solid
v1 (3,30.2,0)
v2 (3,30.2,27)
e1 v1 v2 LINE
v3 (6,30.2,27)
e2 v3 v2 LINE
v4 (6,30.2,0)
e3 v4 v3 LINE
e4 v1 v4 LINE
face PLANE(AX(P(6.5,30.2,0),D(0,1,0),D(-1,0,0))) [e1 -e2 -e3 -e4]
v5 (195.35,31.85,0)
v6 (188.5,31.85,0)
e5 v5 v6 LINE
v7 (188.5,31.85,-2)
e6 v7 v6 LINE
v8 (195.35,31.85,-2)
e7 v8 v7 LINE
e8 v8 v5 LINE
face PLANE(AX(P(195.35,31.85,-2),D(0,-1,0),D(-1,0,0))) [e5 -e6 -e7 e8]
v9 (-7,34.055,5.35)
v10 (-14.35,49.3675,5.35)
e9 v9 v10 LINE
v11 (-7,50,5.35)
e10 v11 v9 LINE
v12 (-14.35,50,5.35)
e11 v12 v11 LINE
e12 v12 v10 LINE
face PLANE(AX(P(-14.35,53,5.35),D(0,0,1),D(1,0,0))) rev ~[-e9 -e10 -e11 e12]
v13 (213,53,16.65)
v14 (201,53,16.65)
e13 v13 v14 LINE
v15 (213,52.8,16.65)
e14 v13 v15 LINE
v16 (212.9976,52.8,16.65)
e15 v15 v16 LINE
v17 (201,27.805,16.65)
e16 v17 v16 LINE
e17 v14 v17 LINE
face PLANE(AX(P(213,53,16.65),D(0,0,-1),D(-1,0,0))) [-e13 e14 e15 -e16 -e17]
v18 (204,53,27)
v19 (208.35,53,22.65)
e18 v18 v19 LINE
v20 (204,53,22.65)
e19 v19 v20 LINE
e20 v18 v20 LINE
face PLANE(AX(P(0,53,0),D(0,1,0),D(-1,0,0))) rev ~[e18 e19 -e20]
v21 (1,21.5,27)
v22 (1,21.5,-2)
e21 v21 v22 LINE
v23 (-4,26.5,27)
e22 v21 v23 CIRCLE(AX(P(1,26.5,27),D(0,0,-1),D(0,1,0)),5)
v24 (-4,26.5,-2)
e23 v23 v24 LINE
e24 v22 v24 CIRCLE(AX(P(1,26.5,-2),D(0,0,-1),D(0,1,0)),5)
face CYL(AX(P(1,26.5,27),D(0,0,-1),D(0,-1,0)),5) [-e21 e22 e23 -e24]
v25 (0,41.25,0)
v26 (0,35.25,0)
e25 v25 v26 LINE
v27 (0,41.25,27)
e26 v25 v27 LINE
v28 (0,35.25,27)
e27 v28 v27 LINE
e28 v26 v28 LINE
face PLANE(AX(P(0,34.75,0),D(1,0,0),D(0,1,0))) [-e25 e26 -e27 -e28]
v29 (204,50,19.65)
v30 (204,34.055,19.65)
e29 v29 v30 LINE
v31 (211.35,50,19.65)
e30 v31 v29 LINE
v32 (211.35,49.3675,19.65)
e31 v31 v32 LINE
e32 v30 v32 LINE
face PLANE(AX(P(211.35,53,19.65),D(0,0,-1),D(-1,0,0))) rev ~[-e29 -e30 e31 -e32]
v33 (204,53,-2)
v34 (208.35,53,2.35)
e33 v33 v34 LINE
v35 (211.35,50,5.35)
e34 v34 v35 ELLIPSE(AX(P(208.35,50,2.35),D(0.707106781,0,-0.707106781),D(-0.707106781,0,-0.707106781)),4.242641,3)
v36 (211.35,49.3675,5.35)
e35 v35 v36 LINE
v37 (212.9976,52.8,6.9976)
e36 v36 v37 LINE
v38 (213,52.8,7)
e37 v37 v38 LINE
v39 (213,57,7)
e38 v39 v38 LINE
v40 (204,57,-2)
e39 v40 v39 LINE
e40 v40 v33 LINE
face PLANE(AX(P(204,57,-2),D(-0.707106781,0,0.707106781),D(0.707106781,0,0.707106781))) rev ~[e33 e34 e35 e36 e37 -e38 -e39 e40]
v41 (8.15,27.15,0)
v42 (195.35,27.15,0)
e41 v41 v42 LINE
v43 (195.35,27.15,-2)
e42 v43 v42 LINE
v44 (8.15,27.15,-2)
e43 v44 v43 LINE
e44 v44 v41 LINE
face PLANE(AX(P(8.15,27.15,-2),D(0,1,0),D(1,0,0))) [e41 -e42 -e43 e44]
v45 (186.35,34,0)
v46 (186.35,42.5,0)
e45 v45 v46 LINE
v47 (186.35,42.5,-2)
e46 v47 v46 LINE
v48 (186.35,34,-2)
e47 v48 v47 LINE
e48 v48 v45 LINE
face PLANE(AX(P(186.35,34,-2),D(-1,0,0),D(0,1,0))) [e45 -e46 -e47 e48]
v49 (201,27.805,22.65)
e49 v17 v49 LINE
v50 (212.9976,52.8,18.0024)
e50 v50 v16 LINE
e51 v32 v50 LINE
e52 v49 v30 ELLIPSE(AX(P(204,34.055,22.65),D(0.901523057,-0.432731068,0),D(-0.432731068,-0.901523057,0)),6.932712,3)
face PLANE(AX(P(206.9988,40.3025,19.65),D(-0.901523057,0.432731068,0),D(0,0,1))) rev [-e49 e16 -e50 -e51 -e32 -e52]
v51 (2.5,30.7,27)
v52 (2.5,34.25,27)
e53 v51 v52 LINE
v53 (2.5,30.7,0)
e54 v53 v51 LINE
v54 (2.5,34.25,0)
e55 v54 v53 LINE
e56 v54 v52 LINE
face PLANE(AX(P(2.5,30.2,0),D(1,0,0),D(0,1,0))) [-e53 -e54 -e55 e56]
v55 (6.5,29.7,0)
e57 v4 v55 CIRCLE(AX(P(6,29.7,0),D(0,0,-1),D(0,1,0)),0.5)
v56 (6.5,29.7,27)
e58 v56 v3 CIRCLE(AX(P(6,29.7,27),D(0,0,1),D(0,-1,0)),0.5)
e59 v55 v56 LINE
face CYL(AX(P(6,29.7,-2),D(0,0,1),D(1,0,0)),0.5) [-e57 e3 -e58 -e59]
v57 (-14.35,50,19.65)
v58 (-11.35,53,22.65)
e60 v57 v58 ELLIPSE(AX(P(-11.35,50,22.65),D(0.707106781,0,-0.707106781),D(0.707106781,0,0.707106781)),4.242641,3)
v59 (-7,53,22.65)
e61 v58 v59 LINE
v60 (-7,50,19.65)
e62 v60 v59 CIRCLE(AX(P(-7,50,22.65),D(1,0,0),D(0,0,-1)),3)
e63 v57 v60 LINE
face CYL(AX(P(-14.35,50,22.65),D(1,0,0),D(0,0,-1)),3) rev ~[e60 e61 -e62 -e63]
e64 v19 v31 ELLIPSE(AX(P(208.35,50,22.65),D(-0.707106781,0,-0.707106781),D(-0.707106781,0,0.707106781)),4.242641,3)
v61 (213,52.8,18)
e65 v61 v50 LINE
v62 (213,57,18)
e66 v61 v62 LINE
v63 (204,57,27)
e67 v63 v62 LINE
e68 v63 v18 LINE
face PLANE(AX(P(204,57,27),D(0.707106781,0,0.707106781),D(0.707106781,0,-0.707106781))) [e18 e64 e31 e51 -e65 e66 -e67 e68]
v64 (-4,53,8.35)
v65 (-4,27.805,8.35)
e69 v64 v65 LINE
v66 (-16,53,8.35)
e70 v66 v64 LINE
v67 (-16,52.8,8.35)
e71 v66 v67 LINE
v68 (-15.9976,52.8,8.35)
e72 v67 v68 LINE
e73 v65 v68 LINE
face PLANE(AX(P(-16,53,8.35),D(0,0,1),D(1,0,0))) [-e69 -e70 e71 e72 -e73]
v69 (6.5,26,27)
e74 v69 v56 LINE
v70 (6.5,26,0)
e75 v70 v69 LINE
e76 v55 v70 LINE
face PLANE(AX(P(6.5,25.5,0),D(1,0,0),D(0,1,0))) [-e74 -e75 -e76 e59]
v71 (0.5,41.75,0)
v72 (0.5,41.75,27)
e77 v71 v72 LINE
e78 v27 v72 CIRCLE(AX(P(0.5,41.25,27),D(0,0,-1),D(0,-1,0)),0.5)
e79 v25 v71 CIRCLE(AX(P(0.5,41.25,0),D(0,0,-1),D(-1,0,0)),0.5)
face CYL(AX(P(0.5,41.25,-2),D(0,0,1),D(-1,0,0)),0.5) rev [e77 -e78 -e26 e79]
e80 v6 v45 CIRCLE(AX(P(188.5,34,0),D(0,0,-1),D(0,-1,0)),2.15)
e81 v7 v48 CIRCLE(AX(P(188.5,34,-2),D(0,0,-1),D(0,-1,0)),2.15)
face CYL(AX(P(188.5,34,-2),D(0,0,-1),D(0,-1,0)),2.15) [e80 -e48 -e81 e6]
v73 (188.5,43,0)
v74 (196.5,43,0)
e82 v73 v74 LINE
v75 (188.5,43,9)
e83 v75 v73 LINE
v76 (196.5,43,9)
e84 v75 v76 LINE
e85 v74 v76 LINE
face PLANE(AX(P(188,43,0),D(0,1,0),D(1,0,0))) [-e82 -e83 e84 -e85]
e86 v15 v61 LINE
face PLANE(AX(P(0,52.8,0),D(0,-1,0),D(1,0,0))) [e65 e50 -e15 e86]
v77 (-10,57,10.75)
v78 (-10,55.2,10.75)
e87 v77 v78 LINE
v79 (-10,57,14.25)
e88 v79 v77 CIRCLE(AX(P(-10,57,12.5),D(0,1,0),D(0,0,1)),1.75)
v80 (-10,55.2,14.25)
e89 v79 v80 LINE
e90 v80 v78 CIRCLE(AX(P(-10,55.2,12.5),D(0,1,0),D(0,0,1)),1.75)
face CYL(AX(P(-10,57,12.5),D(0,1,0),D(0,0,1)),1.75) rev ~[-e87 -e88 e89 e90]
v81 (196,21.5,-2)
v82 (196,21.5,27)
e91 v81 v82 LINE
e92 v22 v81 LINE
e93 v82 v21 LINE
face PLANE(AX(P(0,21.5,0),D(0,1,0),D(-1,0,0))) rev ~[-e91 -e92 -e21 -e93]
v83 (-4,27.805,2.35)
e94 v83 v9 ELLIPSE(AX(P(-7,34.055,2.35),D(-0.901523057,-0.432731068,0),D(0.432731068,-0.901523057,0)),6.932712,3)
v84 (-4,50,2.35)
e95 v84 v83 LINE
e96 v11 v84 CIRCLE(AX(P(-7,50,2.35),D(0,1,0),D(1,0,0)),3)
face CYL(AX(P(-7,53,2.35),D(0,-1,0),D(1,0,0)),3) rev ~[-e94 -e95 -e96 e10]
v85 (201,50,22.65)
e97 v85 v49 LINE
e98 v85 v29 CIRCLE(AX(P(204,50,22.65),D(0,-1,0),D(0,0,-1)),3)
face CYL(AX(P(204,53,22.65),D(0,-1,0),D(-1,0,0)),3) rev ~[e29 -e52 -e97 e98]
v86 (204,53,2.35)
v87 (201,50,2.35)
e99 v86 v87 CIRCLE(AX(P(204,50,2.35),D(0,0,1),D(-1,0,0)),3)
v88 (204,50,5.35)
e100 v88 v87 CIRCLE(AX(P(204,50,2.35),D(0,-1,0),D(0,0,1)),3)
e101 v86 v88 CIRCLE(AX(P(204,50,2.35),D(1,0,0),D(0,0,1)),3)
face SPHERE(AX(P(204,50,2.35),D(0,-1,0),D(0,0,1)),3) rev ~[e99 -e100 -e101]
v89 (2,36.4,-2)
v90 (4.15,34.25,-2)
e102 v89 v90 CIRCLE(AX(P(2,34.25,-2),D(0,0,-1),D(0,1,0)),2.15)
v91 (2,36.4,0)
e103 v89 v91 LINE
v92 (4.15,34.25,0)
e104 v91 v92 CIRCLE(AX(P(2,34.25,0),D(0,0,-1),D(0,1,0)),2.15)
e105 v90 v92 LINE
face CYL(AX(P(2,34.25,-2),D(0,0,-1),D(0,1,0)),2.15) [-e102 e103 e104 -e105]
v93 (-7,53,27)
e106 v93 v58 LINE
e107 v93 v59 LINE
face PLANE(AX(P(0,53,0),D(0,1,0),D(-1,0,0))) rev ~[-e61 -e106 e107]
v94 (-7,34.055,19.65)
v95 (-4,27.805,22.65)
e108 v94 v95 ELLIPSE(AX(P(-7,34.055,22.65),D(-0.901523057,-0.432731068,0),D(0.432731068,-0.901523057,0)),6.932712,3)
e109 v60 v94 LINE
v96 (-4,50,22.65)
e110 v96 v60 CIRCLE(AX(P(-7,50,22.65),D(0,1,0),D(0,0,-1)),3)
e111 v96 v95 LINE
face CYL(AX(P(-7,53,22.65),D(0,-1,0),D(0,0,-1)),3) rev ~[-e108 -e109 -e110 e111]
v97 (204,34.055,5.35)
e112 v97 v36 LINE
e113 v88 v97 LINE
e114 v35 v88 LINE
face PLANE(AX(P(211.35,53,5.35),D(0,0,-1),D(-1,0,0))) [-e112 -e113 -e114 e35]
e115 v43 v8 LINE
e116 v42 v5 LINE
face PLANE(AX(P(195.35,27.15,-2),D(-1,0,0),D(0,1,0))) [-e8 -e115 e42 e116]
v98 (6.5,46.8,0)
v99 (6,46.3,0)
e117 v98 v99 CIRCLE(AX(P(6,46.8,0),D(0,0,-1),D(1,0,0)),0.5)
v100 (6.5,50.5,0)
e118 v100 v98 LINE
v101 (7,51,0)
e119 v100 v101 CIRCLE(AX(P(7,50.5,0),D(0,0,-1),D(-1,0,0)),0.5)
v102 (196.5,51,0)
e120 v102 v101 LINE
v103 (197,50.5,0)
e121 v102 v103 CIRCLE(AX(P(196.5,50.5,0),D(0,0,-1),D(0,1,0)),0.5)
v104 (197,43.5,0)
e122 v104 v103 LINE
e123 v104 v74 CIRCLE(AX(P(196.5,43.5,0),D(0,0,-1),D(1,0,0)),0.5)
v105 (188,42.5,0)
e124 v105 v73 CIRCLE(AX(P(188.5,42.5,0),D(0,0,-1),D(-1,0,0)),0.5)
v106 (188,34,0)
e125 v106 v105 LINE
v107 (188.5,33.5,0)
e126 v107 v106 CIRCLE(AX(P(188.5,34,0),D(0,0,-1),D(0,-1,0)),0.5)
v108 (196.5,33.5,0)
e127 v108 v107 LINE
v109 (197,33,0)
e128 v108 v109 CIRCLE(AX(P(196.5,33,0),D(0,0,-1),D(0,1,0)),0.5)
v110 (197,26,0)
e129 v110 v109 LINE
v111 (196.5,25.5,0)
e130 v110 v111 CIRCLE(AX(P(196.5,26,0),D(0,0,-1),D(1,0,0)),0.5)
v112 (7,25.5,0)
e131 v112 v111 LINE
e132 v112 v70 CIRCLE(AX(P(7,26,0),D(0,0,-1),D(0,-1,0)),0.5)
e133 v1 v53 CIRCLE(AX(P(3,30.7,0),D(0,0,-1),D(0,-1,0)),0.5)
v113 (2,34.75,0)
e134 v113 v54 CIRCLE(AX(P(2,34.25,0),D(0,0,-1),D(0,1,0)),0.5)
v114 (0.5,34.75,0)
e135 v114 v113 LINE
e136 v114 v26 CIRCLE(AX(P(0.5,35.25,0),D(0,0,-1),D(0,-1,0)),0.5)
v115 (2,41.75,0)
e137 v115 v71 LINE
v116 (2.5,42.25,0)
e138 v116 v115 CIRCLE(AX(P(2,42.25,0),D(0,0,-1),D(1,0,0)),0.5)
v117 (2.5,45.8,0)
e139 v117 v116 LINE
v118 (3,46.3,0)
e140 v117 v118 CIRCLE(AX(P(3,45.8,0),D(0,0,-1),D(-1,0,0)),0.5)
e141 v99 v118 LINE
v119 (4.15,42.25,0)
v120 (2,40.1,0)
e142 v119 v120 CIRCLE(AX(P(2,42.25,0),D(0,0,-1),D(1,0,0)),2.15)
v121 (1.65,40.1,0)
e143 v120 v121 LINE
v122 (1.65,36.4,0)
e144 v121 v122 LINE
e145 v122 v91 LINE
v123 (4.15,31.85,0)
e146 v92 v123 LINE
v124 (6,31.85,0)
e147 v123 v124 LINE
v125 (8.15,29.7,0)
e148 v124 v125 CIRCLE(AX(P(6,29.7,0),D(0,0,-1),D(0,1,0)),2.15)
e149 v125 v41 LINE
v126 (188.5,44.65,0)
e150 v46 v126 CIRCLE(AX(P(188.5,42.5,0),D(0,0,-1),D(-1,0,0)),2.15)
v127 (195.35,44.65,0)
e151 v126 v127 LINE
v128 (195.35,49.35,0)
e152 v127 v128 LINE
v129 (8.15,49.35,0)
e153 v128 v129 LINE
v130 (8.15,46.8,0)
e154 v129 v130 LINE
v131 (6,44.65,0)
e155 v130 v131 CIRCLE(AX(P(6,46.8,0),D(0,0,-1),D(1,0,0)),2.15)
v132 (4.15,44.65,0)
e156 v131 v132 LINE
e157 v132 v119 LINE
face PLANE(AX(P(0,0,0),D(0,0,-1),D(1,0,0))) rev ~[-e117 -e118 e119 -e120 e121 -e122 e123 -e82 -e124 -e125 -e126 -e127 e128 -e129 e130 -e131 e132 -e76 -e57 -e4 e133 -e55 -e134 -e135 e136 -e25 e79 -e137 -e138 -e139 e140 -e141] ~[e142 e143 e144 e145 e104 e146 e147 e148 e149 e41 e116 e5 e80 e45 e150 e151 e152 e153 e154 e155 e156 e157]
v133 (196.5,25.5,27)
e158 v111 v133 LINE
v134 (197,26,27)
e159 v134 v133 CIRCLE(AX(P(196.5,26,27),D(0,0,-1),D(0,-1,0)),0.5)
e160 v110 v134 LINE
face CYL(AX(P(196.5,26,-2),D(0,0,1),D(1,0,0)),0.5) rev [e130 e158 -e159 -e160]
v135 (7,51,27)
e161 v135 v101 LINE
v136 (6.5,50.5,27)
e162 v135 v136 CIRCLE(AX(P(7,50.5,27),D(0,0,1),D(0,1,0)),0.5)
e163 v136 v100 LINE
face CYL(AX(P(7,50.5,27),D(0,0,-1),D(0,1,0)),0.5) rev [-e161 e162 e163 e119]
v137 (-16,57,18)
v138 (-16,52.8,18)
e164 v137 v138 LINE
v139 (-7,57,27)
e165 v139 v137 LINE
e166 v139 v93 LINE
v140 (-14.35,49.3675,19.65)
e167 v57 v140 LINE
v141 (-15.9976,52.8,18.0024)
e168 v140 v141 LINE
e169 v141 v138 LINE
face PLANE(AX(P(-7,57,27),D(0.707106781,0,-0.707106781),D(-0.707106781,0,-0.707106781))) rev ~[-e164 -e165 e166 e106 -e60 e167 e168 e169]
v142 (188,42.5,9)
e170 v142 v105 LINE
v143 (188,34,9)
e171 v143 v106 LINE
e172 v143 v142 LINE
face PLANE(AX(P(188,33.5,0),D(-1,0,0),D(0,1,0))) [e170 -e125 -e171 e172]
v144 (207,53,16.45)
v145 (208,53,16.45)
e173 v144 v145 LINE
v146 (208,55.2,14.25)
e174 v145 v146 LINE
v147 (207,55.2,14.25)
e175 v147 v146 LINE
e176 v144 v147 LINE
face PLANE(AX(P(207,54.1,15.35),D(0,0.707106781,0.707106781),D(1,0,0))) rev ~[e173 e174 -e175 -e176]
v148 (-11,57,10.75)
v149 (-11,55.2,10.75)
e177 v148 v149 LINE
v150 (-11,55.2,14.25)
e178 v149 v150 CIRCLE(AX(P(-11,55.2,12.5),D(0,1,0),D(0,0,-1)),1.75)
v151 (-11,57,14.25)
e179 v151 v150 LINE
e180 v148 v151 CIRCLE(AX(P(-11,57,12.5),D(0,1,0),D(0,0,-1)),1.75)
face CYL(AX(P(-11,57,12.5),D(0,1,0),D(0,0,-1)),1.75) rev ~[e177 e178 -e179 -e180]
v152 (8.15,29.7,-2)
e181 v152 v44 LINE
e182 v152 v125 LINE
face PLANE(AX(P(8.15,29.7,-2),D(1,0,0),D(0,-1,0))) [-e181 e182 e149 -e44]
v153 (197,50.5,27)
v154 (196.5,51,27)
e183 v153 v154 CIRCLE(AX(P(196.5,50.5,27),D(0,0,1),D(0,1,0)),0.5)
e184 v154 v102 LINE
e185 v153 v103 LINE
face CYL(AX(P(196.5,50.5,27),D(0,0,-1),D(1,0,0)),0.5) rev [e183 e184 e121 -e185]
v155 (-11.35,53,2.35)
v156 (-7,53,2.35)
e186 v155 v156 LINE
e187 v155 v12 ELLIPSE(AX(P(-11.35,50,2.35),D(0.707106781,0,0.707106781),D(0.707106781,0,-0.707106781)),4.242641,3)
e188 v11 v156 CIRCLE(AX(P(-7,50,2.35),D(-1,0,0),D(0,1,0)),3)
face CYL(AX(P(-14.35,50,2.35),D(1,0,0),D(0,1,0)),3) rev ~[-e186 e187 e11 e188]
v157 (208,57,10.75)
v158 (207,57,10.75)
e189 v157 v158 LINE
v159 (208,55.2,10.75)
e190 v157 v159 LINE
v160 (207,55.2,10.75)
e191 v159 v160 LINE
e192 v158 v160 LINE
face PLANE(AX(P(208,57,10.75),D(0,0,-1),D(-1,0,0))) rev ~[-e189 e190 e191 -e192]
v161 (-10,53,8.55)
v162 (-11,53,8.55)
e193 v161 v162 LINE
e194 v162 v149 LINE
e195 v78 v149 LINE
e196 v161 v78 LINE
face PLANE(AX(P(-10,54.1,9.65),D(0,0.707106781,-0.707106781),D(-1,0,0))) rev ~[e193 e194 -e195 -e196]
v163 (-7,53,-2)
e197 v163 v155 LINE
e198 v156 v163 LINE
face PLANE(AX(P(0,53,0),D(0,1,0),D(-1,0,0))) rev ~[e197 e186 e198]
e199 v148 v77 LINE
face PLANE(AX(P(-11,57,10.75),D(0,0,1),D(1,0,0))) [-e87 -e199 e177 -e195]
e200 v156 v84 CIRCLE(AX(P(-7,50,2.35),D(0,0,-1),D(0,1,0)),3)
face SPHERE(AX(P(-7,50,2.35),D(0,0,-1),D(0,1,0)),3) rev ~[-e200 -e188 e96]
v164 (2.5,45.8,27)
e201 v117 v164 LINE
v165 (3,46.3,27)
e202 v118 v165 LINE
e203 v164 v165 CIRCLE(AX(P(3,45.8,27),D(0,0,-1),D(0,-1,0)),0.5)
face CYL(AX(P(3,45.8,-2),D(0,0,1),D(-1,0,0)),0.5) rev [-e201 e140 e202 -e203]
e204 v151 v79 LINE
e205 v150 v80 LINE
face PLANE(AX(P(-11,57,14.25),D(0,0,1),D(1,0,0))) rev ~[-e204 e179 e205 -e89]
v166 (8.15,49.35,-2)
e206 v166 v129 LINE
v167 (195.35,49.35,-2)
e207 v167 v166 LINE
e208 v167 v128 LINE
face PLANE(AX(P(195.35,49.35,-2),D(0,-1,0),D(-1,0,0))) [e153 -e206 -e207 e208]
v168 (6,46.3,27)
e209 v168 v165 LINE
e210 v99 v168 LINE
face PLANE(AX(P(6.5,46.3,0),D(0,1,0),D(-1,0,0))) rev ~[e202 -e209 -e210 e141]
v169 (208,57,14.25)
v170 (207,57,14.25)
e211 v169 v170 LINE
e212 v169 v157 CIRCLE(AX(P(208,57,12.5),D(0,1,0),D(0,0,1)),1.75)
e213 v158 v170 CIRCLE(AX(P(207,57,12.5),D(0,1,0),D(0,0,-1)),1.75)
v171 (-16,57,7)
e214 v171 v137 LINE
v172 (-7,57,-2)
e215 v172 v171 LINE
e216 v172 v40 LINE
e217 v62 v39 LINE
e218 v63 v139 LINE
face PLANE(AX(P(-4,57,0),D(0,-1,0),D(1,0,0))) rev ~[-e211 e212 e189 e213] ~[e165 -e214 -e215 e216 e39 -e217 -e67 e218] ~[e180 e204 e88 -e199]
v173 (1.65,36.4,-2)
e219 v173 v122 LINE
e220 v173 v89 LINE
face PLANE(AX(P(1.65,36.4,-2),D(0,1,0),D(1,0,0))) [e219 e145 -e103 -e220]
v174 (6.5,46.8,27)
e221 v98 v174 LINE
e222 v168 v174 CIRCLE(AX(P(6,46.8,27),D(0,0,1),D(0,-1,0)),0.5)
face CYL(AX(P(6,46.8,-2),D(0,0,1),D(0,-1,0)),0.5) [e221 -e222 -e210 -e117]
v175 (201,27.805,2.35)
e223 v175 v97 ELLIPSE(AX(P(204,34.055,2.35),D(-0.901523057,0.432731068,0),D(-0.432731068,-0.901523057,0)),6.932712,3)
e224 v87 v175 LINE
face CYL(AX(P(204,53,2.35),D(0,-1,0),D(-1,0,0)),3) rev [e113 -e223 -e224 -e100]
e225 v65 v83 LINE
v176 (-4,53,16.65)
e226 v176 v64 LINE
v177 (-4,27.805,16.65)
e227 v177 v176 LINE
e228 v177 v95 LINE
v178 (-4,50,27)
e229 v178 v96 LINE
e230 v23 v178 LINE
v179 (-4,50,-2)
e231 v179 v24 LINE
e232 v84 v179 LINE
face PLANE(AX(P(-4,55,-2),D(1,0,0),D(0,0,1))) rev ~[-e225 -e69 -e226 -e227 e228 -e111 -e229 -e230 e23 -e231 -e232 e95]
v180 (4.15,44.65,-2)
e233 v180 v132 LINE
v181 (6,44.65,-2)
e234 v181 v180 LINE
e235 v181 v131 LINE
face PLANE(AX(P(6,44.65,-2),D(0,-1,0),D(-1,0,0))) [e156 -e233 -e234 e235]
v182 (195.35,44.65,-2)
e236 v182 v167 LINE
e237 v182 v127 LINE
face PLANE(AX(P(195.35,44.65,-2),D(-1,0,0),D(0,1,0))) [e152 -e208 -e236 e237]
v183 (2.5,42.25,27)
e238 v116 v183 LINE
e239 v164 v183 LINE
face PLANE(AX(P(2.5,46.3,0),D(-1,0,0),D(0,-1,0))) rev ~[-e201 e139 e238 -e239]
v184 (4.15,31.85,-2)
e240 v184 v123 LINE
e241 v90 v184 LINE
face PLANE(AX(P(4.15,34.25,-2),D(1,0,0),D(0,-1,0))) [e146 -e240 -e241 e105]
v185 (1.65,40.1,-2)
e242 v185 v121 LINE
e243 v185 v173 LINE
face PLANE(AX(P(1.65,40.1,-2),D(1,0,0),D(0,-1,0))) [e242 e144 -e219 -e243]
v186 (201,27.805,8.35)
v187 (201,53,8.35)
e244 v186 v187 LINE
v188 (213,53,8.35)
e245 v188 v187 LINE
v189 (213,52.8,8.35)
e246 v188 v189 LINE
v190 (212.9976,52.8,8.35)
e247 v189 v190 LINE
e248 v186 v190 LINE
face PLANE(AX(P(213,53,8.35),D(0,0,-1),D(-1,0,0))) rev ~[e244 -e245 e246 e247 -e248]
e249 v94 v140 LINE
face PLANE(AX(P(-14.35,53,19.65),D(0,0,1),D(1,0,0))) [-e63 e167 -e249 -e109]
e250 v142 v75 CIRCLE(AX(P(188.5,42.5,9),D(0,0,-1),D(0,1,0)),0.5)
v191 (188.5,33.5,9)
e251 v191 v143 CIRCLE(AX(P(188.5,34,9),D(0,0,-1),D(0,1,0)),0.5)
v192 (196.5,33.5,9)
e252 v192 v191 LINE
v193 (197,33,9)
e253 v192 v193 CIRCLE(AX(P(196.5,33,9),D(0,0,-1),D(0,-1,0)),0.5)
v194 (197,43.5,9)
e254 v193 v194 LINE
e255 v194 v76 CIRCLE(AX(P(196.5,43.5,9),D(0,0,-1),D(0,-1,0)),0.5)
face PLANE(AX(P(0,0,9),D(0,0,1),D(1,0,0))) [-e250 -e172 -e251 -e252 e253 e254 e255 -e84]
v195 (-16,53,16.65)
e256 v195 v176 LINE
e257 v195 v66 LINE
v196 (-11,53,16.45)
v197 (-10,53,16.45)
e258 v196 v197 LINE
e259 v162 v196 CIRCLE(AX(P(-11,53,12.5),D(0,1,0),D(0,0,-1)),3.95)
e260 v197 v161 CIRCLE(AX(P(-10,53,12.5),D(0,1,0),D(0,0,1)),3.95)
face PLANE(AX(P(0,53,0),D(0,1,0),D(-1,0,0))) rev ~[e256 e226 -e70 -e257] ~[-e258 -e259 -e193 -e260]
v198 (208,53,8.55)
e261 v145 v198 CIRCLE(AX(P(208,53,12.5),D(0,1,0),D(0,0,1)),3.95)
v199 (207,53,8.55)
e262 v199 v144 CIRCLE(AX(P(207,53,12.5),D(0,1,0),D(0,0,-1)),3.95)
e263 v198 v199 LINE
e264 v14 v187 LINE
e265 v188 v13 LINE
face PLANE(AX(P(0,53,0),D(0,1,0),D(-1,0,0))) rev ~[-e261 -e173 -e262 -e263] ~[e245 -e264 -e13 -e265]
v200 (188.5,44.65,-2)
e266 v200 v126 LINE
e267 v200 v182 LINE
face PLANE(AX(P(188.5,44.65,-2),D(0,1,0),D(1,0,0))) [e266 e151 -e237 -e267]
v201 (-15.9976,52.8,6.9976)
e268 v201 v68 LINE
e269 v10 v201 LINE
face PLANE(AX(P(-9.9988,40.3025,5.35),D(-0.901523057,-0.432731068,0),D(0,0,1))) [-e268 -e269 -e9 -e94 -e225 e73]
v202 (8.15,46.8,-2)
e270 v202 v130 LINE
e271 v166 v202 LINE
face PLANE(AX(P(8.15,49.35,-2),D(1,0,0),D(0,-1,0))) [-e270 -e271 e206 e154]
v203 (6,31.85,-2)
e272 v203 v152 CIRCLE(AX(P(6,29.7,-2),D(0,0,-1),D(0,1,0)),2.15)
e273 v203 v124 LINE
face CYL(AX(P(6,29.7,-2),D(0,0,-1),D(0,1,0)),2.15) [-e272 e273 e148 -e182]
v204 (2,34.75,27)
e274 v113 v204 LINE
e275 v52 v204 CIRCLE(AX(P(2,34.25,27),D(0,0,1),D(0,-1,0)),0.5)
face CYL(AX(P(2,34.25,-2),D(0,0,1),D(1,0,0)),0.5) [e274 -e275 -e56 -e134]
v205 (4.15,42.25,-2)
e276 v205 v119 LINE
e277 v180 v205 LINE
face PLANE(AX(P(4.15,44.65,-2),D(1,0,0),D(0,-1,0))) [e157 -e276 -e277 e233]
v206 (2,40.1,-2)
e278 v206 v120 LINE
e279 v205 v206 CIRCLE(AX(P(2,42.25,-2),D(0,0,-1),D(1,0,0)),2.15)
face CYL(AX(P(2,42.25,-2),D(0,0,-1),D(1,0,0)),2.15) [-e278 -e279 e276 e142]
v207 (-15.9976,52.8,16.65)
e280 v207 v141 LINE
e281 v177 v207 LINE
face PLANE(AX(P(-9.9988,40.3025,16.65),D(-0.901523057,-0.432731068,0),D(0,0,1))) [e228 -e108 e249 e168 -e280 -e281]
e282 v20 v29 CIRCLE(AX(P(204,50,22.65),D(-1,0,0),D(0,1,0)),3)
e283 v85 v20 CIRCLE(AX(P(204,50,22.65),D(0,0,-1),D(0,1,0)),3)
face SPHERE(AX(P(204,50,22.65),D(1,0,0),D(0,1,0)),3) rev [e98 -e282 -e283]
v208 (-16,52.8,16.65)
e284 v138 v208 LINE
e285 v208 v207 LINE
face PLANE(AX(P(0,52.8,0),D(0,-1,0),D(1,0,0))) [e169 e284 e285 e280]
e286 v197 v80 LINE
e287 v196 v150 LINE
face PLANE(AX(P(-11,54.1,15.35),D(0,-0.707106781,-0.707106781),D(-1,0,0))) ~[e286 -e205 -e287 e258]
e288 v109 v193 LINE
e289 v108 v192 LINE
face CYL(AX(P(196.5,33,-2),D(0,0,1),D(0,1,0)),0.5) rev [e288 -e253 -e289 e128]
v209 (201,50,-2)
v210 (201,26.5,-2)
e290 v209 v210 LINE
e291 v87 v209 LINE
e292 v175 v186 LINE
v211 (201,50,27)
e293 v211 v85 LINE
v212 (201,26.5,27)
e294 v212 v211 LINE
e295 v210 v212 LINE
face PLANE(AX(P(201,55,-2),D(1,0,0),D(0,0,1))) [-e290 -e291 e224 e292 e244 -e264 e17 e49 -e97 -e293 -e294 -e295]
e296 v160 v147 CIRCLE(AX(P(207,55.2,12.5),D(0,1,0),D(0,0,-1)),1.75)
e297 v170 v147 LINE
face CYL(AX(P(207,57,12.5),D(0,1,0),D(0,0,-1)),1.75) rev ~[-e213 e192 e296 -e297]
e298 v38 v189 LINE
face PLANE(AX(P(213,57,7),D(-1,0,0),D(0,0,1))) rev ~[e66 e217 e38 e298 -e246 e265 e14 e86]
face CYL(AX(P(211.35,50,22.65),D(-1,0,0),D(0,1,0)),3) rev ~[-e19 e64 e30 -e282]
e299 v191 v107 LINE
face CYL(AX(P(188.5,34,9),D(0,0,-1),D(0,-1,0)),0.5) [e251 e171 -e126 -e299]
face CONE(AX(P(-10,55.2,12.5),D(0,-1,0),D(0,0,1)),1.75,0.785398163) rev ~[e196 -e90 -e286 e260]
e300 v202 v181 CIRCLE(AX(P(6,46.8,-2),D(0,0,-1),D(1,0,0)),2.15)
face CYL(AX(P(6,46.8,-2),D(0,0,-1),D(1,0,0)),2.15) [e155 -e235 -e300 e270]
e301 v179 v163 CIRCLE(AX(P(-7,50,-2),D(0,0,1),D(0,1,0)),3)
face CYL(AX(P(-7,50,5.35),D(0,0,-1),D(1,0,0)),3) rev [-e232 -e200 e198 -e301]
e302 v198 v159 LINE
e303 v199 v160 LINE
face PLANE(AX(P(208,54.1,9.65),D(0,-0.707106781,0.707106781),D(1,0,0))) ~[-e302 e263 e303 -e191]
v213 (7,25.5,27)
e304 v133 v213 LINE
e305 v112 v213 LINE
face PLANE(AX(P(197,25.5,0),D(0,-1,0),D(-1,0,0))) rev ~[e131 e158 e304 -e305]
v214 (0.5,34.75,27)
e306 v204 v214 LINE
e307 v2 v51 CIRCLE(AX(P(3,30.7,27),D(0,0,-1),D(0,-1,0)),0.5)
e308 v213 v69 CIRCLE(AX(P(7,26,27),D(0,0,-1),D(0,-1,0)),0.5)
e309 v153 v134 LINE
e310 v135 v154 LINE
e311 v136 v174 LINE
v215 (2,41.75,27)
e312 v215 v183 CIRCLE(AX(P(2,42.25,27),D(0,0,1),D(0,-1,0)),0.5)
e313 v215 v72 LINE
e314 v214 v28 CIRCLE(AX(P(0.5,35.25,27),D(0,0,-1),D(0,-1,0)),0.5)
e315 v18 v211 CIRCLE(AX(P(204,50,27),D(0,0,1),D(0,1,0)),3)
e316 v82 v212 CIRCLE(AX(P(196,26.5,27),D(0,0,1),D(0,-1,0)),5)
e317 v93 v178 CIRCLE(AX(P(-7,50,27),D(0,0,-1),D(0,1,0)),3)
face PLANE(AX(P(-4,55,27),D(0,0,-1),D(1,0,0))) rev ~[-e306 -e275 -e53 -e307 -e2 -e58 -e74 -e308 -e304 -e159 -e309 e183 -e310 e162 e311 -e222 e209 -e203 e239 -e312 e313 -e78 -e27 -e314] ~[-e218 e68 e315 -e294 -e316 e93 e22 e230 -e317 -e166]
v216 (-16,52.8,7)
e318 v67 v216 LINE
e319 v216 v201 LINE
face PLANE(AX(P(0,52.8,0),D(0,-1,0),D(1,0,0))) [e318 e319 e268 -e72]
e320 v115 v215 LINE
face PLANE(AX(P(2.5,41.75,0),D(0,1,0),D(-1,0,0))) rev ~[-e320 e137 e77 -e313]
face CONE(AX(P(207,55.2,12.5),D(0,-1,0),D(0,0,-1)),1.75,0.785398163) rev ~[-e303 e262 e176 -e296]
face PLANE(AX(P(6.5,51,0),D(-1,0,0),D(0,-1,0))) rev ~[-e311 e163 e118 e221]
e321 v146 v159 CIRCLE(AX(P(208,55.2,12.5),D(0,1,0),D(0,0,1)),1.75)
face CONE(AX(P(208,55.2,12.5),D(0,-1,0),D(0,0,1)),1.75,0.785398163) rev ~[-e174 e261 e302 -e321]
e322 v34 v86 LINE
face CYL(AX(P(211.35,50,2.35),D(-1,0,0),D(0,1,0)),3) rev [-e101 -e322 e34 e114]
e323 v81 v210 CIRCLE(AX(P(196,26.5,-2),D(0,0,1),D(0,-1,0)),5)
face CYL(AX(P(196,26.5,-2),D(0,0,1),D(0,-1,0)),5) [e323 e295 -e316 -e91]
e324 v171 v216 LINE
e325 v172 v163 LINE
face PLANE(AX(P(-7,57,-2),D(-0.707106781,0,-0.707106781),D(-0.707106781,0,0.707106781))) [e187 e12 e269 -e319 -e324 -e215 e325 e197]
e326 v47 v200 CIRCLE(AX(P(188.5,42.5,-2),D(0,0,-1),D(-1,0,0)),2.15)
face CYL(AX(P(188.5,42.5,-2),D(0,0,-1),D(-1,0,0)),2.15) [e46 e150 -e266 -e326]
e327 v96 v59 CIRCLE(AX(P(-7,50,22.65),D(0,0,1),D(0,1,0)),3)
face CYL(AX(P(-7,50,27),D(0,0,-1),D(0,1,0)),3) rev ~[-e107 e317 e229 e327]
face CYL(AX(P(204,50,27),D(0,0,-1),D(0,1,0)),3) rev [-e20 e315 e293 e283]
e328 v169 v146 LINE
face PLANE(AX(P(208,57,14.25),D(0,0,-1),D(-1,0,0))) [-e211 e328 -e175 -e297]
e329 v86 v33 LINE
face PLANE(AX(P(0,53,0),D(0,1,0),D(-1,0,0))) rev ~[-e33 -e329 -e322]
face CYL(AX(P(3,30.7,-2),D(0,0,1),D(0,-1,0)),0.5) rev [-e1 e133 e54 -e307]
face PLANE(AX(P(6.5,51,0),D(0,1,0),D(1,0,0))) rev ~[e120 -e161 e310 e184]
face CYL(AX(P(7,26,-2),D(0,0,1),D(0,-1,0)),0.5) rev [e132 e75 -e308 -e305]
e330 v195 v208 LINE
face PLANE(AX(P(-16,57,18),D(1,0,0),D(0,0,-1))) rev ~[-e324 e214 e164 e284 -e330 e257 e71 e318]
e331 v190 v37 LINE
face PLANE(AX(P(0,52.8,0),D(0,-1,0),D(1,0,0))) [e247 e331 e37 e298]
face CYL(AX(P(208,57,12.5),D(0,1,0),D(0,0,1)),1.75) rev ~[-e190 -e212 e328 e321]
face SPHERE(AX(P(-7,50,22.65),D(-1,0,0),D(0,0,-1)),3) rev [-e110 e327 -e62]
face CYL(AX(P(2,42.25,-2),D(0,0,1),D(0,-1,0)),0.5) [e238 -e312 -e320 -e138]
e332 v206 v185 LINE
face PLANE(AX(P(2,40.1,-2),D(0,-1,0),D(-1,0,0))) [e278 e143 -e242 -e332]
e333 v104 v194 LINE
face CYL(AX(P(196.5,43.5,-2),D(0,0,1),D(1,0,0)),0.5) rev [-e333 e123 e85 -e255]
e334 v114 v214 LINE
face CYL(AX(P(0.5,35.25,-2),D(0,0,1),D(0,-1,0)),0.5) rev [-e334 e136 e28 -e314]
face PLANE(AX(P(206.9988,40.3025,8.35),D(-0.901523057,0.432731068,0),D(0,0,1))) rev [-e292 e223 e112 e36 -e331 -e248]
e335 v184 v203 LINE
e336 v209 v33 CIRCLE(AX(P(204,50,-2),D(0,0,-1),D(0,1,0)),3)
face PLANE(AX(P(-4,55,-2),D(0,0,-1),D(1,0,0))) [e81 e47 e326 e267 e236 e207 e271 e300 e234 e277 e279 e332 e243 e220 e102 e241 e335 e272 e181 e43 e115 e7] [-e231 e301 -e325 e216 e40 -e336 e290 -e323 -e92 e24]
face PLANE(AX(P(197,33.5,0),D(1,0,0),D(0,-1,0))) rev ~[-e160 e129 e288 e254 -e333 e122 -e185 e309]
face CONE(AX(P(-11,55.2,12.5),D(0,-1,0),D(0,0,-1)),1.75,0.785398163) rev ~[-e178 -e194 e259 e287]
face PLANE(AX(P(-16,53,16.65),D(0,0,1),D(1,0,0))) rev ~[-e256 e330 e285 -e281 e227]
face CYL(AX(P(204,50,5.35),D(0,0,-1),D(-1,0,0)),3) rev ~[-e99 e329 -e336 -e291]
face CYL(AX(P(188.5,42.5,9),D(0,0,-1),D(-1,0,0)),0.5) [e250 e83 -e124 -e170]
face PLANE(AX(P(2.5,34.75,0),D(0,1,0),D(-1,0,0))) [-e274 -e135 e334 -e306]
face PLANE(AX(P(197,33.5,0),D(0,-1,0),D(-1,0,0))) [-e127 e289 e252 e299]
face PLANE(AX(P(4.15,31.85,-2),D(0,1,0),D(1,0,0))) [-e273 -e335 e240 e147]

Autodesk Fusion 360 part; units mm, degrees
sketch "Sketch1" plane through (0, 0, 0) normal (0, 0, 1) x (1, 0, 0)
  line L0 (0, 0) -> (197, 0)
  line L1 (197, 0) -> (197, 25.5)
  line L2 (197, 25.5) -> (0, 25.5)
  line L3 (0, 25.5) -> (0, 0)
  line L4 (6.5, 25.5) -> (6.5, 20.8)
  line L5 (6.5, 20.8) -> (2.5, 20.8)
  line L6 (0, 12.75) -> (197, 12.75) construction
  line L7 (197, 17.5) -> (188, 17.5)
  line L8 (188, 17.5) -> (188, 8)
  line L9 (188, 8) -> (197, 8)
  line L10 (6.5, 4.7) -> (2.5, 4.7)
  line L11 (6.5, 0) -> (6.5, 4.7)
  line L12 (2.5, 20.8) -> (2.5, 16.25)
  line L13 (2.5, 16.25) -> (0, 16.25)
  line L14 (2.5, 4.7) -> (2.5, 9.25)
  line L15 (2.5, 9.25) -> (0, 9.25)
  line L16 (0, 25.5) -> (0, 51)
  line L17 (0, 51) -> (197, 51)
  line L18 (6.5, 46.3) -> (2.5, 46.3)
  line L19 (6.5, 51) -> (6.5, 46.3)
  line L20 (2.5, 41.75) -> (0, 41.75)
  line L21 (2.5, 46.3) -> (2.5, 41.75)
  line L22 (6.5, 25.5) -> (6.5, 30.2)
  line L23 (6.5, 30.2) -> (2.5, 30.2)
  line L24 (2.5, 30.2) -> (2.5, 34.75)
  line L25 (2.5, 34.75) -> (0, 34.75)
  line L26 (197, 33.5) -> (188, 33.5)
  line L27 (188, 33.5) -> (188, 43)
  line L28 (188, 43) -> (197, 43)
  line L29 (197, 51) -> (197, 25.5)
  line L30 (201, -4) -> (201, 25.5)
  line L31 (201, 55) -> (201, 25.5)
  line L32 (-4, 55) -> (201, 55)
  line L33 (-4, 25.5) -> (-4, 55)
  line L34 (-4, 25.5) -> (-4, -4)
  line L35 (-4, -4) -> (201, -4)
  line L36 (201, 21.5) -> (-4, 21.5)
  point P0 (0, 25.5)
  dimension "d1" = 25.5
  dimension "d2" = 197
  dimension "d5" = 4.7
  dimension "d6" = 4
  dimension "d7" = 9
  dimension "d8" = 9.5
  dimension "d9" = 2.5
  dimension "d10" = 7
  dimension "d19" = 4
  dimension "d74" = 4
extrude "Extrude1" add sketch "Sketch1" against normal blind 2 contours L1 L3 L16 L17 L29 L30 L31 L32 L33 L34 L36 | L2 L3 L4 L36 | L2 L16 L22 L23 L24 L25 | L1 L2 L4 L36 | L16 L17 L18 L19 L20 L21 | L26 L27 L28 L29
extrude "Extrude2" add sketch "Sketch1" along normal blind 9 contours L26 L27 L28 L29
extrude "Extrude3" add sketch "Sketch1" along normal blind 27 contours L1 L3 L16 L17 L29 L30 L31 L32 L33 L34 L36 | L2 L3 L4 L36 | L2 L16 L22 L23 L24 L25 | L1 L2 L4 L36 | L16 L17 L18 L19 L20 L21
fillet "Fillet1" radius 0.5 16 edges at (2.5, 34.75, 12.5) (2.5, 30.2, 12.5) (6.5, 46.3, 12.5) (2.5, 46.3, 12.5) (2.5, 41.75, 12.5) (6.5, 51, 12.5) (0, 41.75, 12.5) (0, 34.75, 12.5) (188, 43, 3.5) (188, 33.5, 3.5) (197, 51, 12.5) (197, 25.5, 12.5) (197, 43, 3.5) (197, 33.5, 3.5) (6.5, 25.5, 12.5) (6.5, 30.2, 12.5)
fillet "Fillet3" radius 5 2 edges at (201, 21.5, 12.5) (-4, 21.5, 12.5)
sketch "Sketch3" plane through (0, 0, -2) normal (0, 0, -1) x (1, 0, 0)
  line L0 (-4, -26.5) -> (-4, -55)
  line L1 (-4, -55) -> (201, -55)
  line L2 (201, -55) -> (201, -26.5)
  line L3 (197, -43.5) -> (197, -50.5)
  line L4 (196.5, -33.5) -> (188.5, -33.5)
  arc A0 (188.5, -33.5) -> (188, -34) centre (188.5, -34) ccw
  line L5 (188, -34) -> (188, -42.5)
  arc A1 (188, -42.5) -> (188.5, -43) centre (188.5, -42.5) ccw
  line L6 (188.5, -43) -> (196.5, -43)
  line L7 (196.5, -51) -> (7, -51)
  arc A2 (6.5, -50.5) -> (7, -51) centre (7, -50.5) ccw
  line L8 (6.5, -50.5) -> (6.5, -46.8)
  arc A3 (6.5, -46.8) -> (6, -46.3) centre (6, -46.8) ccw
  line L9 (6, -46.3) -> (3, -46.3)
  arc A4 (2.5, -45.8) -> (3, -46.3) centre (3, -45.8) ccw
  line L10 (2.5, -45.8) -> (2.5, -42.25)
  arc A5 (2.5, -42.25) -> (2, -41.75) centre (2, -42.25) ccw
  line L11 (2, -41.75) -> (0.5, -41.75)
  arc A6 (0, -41.25) -> (0.5, -41.75) centre (0.5, -41.25) ccw
  line L12 (0, -41.25) -> (0, -35.25)
  arc A7 (0.5, -34.75) -> (0, -35.25) centre (0.5, -35.25) ccw
  line L13 (0.5, -34.75) -> (2, -34.75)
  arc A8 (2, -34.75) -> (2.5, -34.25) centre (2, -34.25) ccw
  line L14 (2.5, -34.25) -> (2.5, -30.7)
  arc A9 (3, -30.2) -> (2.5, -30.7) centre (3, -30.7) ccw
  line L15 (3, -30.2) -> (6, -30.2)
  line L16 (6.5, -29.7) -> (6.5, -26)
  line L17 (7, -25.5) -> (196.5, -25.5)
  line L18 (196, -21.5) -> (1, -21.5)
  arc A10 (196.5, -51) -> (197, -50.5) centre (196.5, -50.5) ccw
  arc A11 (197, -26) -> (196.5, -25.5) centre (196.5, -26) ccw
  line L19 (197, -26) -> (197, -33)
  arc A12 (1, -21.5) -> (-4, -26.5) centre (1, -26.5) ccw
  arc A13 (201, -26.5) -> (196, -21.5) centre (196, -26.5) ccw
  arc A14 (6, -30.2) -> (6.5, -29.7) centre (6, -29.7) ccw
  arc A15 (7, -25.5) -> (6.5, -26) centre (7, -26) ccw
  arc A16 (196.5, -33.5) -> (197, -33) centre (196.5, -33) ccw
  arc A17 (197, -43.5) -> (196.5, -43) centre (196.5, -43.5) ccw
  line L20 (188.5, -44.65) -> (195.35, -44.65)
  line L21 (195.35, -44.65) -> (195.35, -49.35)
  line L22 (195.35, -49.35) -> (8.15, -49.35)
  line L23 (8.15, -49.35) -> (8.15, -46.8)
  arc A18 (8.15, -46.8) -> (6, -44.65) centre (6, -46.8) ccw
  line L24 (6, -44.65) -> (4.15, -44.65)
  line L25 (4.15, -44.65) -> (4.15, -42.25)
  arc A19 (4.15, -42.25) -> (2, -40.1) centre (2, -42.25) ccw
  line L26 (2, -40.1) -> (1.65, -40.1)
  line L27 (1.65, -40.1) -> (1.65, -36.4)
  line L28 (1.65, -36.4) -> (2, -36.4)
  arc A20 (2, -36.4) -> (4.15, -34.25) centre (2, -34.25) ccw
  line L29 (4.15, -34.25) -> (4.15, -31.85)
  line L30 (4.15, -31.85) -> (6, -31.85)
  arc A21 (6, -31.85) -> (8.15, -29.7) centre (6, -29.7) ccw
  line L31 (8.15, -29.7) -> (8.15, -27.15)
  line L32 (8.15, -27.15) -> (195.35, -27.15)
  line L33 (195.35, -27.15) -> (195.35, -31.85)
  line L34 (195.35, -31.85) -> (188.5, -31.85)
  arc A22 (188.5, -31.85) -> (186.35, -34) centre (188.5, -34) ccw
  line L35 (186.35, -34) -> (186.35, -42.5)
  arc A23 (186.35, -42.5) -> (188.5, -44.65) centre (188.5, -42.5) ccw
  dimension "d24" = 2
  dimension "d77" = 1.65
extrude "Extrude4" add sketch "Sketch3" against normal blind 2 contours L3 L4 A0 L5 A1 L6 L7 A2 L8 A3 L9 A4 L10 A5 L11 A6 L12 A7 L13 A8 L14 A9 L15 L16 L17 A10 A11 L19 A14 A15 A16 A17
sketch "Sketch4" plane through (0, 0, 27) normal (0, 0, 1) x (-1, 0, 0)
  arc A0 (-2, -41.75) -> (-2.5, -42.25) centre (-2, -42.25) ccw
  line L0 (-2.5, -42.25) -> (-2.5, -45.8)
  arc A1 (-3, -46.3) -> (-2.5, -45.8) centre (-3, -45.8) ccw
  line L1 (-3, -46.3) -> (-6, -46.3)
  arc A2 (-6, -46.3) -> (-6.5, -46.8) centre (-6, -46.8) ccw
  line L2 (-6.5, -46.8) -> (-6.5, -50.5)
  arc A3 (-7, -51) -> (-6.5, -50.5) centre (-7, -50.5) ccw
  line L3 (-7, -51) -> (-196.5, -51)
  line L4 (-197, -50.5) -> (-197, -26)
  line L5 (-6.5, -26) -> (-6.5, -29.7)
  line L6 (-6, -30.2) -> (-3, -30.2)
  arc A4 (-2.5, -30.7) -> (-3, -30.2) centre (-3, -30.7) ccw
  line L7 (-2.5, -30.7) -> (-2.5, -34.25)
  arc A5 (-2.5, -34.25) -> (-2, -34.75) centre (-2, -34.25) ccw
  line L8 (-2, -34.75) -> (-0.5, -34.75)
  arc A6 (0, -35.25) -> (-0.5, -34.75) centre (-0.5, -35.25) ccw
  line L9 (0, -35.25) -> (0, -41.25)
  arc A7 (-0.5, -41.75) -> (0, -41.25) centre (-0.5, -41.25) ccw
  line L10 (-0.5, -41.75) -> (-2, -41.75)
  line L11 (-201, -26.5) -> (-201, -55)
  line L12 (-201, -55) -> (4, -55)
  line L13 (4, -55) -> (4, -26.5)
  line L14 (-7, -51) -> (4, -51)
  line L15 (-196.5, -51) -> (-201, -51)
  line L16 (-1, -21.5) -> (-196, -21.5)
  line L17 (-196.5, -25.5) -> (-7, -25.5)
  arc A8 (-197, -50.5) -> (-196.5, -51) centre (-196.5, -50.5) ccw
  arc A9 (-196.5, -25.5) -> (-197, -26) centre (-196.5, -26) ccw
  arc A10 (4, -26.5) -> (-1, -21.5) centre (-1, -26.5) ccw
  arc A11 (-196, -21.5) -> (-201, -26.5) centre (-196, -26.5) ccw
  arc A12 (-6.5, -29.7) -> (-6, -30.2) centre (-6, -29.7) ccw
  arc A13 (-6.5, -26) -> (-7, -25.5) centre (-7, -26) ccw
extrude "Extrude8" add 1 faces at (64.3333, 55, 17.3333) along direction (0, 1, 0) blind 2
sketch "Sketch6" plane through (0, 57, 0) normal (0, 1, 0) x (-1, 0, 0)
  line L0 (-201, 27) -> (-201, -2)
  line L1 (-201, -2) -> (4, -2)
  line L2 (4, -2) -> (4, 27)
  line L3 (4, 27) -> (-201, 27)
  line L4 (4, 27) -> (7, 27)
  line L5 (7, 27) -> (16, 18)
  line L6 (16, 18) -> (16, 14.25)
  line L7 (16, 14.25) -> (10, 14.25)
  arc A0 (10, 14.25) -> (10, 10.75) centre (10, 12.5) ccw
  line L8 (10, 12.5) -> (4, 12.5) construction
  line L9 (4, -2) -> (7, -2)
  line L10 (7, -2) -> (16, 7)
  line L11 (16, 7) -> (16, 10.75)
  line L12 (16, 10.75) -> (10, 10.75)
  line L13 (-98.5, 27) -> (-98.5, 53.5133) construction
  line L14 (-201, 27) -> (-204, 27)
  line L15 (-213, 18) -> (-213, 14.25)
  line L16 (-213, 14.25) -> (-207, 14.25)
  arc A1 (-207, 10.75) -> (-207, 14.25) centre (-207, 12.5) ccw
  line L17 (-204, 27) -> (-213, 18)
  line L18 (-201, -2) -> (-204, -2)
  line L19 (-204, -2) -> (-213, 7)
  line L20 (-213, 7) -> (-213, 10.75)
  line L21 (-213, 10.75) -> (-207, 10.75)
  line L22 (-213, 14.25) -> (-213, 10.75)
  arc A2 (-208, 14.25) -> (-208, 10.75) centre (-208, 12.5) ccw
  arc A3 (11, 10.75) -> (11, 14.25) centre (11, 12.5) ccw
  line L23 (16, 14.25) -> (16, 10.75)
  line L24 (16, 18) -> (4, 18)
  dimension "d41" = 6
  dimension "d43" = 3.5
  dimension "d44" = 3
  dimension "d45" = 135
  dimension "d46" = 12
  dimension "d50" = 1
extrude "Extrude9" add sketch "Sketch6" against normal blind 4 contours L0 L14 L15 L16 A1 L17 L18 L19 L20 L21 | L2 L4 L5 L24 | L2 L6 L7 A0 L9 L10 L11 L12 L24 | L16 L21 L22 A2 | L7 L12 A3 L23
chamfer "Chamfer2" distance 2.2 angle 45 8 edges at (-10.5, 53, 14.25) (-8.25, 53, 12.5) (-10.5, 53, 10.75) (-12.75, 53, 12.5) (209.75, 53, 12.5) (207.5, 53, 10.75) (205.25, 53, 12.5) (207.5, 53, 14.25)
sketch "Sketch8" plane through (0, 53, 0) normal (0, -1, 0) x (1, 0, 0)
  line L0 (-7, -2) -> (-4, -2)
  line L1 (-4, -2) -> (-4, 27)
  line L2 (-4, 27) -> (-7, 27)
  line L3 (-7, 27) -> (-16, 18)
  line L4 (-16, 18) -> (-16, 7)
  line L5 (-16, 7) -> (-7, -2)
  line L6 (-11, 16.45) -> (-10, 16.45)
  arc A0 (-10, 8.55) -> (-10, 16.45) centre (-10, 12.5) ccw
  line L7 (-10, 8.55) -> (-11, 8.55)
  arc A1 (-11, 16.45) -> (-11, 8.55) centre (-11, 12.5) ccw
  line L8 (-16, 16.65) -> (-4, 16.65)
  line L9 (-14.35, 19.65) -> (-4, 19.65)
  line L10 (-16, 8.35) -> (-4, 8.35)
  line L11 (-14.35, 5.35) -> (-4, 5.35)
  line L12 (-4, 27) -> (201, 27)
  line L13 (204, 27) -> (201, 27)
  line L14 (201, 27) -> (201, -2)
  line L15 (201, -2) -> (204, -2)
  line L16 (204, -2) -> (213, 7)
  line L17 (213, 7) -> (213, 18)
  line L18 (213, 18) -> (204, 27)
  arc A2 (208, 8.55) -> (208, 16.45) centre (208, 12.5) ccw
  line L19 (208, 8.55) -> (207, 8.55)
  arc A3 (207, 16.45) -> (207, 8.55) centre (207, 12.5) ccw
  line L20 (207, 16.45) -> (208, 16.45)
  line L21 (98.5, 27) -> (98.5, 42.1012) construction
  line L22 (211.35, 19.65) -> (201, 19.65)
  line L23 (213, 16.65) -> (201, 16.65)
  line L24 (213, 8.35) -> (201, 8.35)
  line L25 (211.35, 5.35) -> (201, 5.35)
  point P0 (201, 27)
  dimension "d60" = 3
  dimension "d61" = 0.2
  dimension "d71" = 3
extrude "Extrude12" add sketch "Sketch8" along normal blind 0.2 contours L1 L4 L5 L10 L11 | L1 L3 L4 L8 L9 | L14 L17 L18 L22 L23 | L14 L16 L17 L24 L25
chamfer "Chamfer3" distance 25 distance2 12 4 edges at (-4, 52.8, 18.15) (-4, 52.8, 6.85) (201, 52.8, 18.15) (201, 52.8, 6.85) measured on face at (-4, 35.2667, 13.8833) measured on face at (-4, 35.2667, 13.8833) measured on face at (201, 35.2667, 13.8833) measured on face at (201, 35.2667, 13.8833)
fillet "Fillet5" radius 3 12 edges at (-9.175, 53, 19.65) (-4, 40.4, 19.65) (-4, 53, 23.325) (-4, 53, 1.675) (-9.175, 53, 5.35) (-4, 40.4, 5.35) (206.175, 53, 19.65) (201, 53, 23.325) (201, 40.4, 19.65) (201, 40.4, 5.35) (206.175, 53, 5.35) (201, 53, 1.675)
ref_plane "WorkPlane3" through (98.5, 41.75, 12.5) normal (-1, 0, 0) x (0, 1, 0)
equation "d2 = 94.5 mm + 94.5 mm + 4 mm + 4 mm"
